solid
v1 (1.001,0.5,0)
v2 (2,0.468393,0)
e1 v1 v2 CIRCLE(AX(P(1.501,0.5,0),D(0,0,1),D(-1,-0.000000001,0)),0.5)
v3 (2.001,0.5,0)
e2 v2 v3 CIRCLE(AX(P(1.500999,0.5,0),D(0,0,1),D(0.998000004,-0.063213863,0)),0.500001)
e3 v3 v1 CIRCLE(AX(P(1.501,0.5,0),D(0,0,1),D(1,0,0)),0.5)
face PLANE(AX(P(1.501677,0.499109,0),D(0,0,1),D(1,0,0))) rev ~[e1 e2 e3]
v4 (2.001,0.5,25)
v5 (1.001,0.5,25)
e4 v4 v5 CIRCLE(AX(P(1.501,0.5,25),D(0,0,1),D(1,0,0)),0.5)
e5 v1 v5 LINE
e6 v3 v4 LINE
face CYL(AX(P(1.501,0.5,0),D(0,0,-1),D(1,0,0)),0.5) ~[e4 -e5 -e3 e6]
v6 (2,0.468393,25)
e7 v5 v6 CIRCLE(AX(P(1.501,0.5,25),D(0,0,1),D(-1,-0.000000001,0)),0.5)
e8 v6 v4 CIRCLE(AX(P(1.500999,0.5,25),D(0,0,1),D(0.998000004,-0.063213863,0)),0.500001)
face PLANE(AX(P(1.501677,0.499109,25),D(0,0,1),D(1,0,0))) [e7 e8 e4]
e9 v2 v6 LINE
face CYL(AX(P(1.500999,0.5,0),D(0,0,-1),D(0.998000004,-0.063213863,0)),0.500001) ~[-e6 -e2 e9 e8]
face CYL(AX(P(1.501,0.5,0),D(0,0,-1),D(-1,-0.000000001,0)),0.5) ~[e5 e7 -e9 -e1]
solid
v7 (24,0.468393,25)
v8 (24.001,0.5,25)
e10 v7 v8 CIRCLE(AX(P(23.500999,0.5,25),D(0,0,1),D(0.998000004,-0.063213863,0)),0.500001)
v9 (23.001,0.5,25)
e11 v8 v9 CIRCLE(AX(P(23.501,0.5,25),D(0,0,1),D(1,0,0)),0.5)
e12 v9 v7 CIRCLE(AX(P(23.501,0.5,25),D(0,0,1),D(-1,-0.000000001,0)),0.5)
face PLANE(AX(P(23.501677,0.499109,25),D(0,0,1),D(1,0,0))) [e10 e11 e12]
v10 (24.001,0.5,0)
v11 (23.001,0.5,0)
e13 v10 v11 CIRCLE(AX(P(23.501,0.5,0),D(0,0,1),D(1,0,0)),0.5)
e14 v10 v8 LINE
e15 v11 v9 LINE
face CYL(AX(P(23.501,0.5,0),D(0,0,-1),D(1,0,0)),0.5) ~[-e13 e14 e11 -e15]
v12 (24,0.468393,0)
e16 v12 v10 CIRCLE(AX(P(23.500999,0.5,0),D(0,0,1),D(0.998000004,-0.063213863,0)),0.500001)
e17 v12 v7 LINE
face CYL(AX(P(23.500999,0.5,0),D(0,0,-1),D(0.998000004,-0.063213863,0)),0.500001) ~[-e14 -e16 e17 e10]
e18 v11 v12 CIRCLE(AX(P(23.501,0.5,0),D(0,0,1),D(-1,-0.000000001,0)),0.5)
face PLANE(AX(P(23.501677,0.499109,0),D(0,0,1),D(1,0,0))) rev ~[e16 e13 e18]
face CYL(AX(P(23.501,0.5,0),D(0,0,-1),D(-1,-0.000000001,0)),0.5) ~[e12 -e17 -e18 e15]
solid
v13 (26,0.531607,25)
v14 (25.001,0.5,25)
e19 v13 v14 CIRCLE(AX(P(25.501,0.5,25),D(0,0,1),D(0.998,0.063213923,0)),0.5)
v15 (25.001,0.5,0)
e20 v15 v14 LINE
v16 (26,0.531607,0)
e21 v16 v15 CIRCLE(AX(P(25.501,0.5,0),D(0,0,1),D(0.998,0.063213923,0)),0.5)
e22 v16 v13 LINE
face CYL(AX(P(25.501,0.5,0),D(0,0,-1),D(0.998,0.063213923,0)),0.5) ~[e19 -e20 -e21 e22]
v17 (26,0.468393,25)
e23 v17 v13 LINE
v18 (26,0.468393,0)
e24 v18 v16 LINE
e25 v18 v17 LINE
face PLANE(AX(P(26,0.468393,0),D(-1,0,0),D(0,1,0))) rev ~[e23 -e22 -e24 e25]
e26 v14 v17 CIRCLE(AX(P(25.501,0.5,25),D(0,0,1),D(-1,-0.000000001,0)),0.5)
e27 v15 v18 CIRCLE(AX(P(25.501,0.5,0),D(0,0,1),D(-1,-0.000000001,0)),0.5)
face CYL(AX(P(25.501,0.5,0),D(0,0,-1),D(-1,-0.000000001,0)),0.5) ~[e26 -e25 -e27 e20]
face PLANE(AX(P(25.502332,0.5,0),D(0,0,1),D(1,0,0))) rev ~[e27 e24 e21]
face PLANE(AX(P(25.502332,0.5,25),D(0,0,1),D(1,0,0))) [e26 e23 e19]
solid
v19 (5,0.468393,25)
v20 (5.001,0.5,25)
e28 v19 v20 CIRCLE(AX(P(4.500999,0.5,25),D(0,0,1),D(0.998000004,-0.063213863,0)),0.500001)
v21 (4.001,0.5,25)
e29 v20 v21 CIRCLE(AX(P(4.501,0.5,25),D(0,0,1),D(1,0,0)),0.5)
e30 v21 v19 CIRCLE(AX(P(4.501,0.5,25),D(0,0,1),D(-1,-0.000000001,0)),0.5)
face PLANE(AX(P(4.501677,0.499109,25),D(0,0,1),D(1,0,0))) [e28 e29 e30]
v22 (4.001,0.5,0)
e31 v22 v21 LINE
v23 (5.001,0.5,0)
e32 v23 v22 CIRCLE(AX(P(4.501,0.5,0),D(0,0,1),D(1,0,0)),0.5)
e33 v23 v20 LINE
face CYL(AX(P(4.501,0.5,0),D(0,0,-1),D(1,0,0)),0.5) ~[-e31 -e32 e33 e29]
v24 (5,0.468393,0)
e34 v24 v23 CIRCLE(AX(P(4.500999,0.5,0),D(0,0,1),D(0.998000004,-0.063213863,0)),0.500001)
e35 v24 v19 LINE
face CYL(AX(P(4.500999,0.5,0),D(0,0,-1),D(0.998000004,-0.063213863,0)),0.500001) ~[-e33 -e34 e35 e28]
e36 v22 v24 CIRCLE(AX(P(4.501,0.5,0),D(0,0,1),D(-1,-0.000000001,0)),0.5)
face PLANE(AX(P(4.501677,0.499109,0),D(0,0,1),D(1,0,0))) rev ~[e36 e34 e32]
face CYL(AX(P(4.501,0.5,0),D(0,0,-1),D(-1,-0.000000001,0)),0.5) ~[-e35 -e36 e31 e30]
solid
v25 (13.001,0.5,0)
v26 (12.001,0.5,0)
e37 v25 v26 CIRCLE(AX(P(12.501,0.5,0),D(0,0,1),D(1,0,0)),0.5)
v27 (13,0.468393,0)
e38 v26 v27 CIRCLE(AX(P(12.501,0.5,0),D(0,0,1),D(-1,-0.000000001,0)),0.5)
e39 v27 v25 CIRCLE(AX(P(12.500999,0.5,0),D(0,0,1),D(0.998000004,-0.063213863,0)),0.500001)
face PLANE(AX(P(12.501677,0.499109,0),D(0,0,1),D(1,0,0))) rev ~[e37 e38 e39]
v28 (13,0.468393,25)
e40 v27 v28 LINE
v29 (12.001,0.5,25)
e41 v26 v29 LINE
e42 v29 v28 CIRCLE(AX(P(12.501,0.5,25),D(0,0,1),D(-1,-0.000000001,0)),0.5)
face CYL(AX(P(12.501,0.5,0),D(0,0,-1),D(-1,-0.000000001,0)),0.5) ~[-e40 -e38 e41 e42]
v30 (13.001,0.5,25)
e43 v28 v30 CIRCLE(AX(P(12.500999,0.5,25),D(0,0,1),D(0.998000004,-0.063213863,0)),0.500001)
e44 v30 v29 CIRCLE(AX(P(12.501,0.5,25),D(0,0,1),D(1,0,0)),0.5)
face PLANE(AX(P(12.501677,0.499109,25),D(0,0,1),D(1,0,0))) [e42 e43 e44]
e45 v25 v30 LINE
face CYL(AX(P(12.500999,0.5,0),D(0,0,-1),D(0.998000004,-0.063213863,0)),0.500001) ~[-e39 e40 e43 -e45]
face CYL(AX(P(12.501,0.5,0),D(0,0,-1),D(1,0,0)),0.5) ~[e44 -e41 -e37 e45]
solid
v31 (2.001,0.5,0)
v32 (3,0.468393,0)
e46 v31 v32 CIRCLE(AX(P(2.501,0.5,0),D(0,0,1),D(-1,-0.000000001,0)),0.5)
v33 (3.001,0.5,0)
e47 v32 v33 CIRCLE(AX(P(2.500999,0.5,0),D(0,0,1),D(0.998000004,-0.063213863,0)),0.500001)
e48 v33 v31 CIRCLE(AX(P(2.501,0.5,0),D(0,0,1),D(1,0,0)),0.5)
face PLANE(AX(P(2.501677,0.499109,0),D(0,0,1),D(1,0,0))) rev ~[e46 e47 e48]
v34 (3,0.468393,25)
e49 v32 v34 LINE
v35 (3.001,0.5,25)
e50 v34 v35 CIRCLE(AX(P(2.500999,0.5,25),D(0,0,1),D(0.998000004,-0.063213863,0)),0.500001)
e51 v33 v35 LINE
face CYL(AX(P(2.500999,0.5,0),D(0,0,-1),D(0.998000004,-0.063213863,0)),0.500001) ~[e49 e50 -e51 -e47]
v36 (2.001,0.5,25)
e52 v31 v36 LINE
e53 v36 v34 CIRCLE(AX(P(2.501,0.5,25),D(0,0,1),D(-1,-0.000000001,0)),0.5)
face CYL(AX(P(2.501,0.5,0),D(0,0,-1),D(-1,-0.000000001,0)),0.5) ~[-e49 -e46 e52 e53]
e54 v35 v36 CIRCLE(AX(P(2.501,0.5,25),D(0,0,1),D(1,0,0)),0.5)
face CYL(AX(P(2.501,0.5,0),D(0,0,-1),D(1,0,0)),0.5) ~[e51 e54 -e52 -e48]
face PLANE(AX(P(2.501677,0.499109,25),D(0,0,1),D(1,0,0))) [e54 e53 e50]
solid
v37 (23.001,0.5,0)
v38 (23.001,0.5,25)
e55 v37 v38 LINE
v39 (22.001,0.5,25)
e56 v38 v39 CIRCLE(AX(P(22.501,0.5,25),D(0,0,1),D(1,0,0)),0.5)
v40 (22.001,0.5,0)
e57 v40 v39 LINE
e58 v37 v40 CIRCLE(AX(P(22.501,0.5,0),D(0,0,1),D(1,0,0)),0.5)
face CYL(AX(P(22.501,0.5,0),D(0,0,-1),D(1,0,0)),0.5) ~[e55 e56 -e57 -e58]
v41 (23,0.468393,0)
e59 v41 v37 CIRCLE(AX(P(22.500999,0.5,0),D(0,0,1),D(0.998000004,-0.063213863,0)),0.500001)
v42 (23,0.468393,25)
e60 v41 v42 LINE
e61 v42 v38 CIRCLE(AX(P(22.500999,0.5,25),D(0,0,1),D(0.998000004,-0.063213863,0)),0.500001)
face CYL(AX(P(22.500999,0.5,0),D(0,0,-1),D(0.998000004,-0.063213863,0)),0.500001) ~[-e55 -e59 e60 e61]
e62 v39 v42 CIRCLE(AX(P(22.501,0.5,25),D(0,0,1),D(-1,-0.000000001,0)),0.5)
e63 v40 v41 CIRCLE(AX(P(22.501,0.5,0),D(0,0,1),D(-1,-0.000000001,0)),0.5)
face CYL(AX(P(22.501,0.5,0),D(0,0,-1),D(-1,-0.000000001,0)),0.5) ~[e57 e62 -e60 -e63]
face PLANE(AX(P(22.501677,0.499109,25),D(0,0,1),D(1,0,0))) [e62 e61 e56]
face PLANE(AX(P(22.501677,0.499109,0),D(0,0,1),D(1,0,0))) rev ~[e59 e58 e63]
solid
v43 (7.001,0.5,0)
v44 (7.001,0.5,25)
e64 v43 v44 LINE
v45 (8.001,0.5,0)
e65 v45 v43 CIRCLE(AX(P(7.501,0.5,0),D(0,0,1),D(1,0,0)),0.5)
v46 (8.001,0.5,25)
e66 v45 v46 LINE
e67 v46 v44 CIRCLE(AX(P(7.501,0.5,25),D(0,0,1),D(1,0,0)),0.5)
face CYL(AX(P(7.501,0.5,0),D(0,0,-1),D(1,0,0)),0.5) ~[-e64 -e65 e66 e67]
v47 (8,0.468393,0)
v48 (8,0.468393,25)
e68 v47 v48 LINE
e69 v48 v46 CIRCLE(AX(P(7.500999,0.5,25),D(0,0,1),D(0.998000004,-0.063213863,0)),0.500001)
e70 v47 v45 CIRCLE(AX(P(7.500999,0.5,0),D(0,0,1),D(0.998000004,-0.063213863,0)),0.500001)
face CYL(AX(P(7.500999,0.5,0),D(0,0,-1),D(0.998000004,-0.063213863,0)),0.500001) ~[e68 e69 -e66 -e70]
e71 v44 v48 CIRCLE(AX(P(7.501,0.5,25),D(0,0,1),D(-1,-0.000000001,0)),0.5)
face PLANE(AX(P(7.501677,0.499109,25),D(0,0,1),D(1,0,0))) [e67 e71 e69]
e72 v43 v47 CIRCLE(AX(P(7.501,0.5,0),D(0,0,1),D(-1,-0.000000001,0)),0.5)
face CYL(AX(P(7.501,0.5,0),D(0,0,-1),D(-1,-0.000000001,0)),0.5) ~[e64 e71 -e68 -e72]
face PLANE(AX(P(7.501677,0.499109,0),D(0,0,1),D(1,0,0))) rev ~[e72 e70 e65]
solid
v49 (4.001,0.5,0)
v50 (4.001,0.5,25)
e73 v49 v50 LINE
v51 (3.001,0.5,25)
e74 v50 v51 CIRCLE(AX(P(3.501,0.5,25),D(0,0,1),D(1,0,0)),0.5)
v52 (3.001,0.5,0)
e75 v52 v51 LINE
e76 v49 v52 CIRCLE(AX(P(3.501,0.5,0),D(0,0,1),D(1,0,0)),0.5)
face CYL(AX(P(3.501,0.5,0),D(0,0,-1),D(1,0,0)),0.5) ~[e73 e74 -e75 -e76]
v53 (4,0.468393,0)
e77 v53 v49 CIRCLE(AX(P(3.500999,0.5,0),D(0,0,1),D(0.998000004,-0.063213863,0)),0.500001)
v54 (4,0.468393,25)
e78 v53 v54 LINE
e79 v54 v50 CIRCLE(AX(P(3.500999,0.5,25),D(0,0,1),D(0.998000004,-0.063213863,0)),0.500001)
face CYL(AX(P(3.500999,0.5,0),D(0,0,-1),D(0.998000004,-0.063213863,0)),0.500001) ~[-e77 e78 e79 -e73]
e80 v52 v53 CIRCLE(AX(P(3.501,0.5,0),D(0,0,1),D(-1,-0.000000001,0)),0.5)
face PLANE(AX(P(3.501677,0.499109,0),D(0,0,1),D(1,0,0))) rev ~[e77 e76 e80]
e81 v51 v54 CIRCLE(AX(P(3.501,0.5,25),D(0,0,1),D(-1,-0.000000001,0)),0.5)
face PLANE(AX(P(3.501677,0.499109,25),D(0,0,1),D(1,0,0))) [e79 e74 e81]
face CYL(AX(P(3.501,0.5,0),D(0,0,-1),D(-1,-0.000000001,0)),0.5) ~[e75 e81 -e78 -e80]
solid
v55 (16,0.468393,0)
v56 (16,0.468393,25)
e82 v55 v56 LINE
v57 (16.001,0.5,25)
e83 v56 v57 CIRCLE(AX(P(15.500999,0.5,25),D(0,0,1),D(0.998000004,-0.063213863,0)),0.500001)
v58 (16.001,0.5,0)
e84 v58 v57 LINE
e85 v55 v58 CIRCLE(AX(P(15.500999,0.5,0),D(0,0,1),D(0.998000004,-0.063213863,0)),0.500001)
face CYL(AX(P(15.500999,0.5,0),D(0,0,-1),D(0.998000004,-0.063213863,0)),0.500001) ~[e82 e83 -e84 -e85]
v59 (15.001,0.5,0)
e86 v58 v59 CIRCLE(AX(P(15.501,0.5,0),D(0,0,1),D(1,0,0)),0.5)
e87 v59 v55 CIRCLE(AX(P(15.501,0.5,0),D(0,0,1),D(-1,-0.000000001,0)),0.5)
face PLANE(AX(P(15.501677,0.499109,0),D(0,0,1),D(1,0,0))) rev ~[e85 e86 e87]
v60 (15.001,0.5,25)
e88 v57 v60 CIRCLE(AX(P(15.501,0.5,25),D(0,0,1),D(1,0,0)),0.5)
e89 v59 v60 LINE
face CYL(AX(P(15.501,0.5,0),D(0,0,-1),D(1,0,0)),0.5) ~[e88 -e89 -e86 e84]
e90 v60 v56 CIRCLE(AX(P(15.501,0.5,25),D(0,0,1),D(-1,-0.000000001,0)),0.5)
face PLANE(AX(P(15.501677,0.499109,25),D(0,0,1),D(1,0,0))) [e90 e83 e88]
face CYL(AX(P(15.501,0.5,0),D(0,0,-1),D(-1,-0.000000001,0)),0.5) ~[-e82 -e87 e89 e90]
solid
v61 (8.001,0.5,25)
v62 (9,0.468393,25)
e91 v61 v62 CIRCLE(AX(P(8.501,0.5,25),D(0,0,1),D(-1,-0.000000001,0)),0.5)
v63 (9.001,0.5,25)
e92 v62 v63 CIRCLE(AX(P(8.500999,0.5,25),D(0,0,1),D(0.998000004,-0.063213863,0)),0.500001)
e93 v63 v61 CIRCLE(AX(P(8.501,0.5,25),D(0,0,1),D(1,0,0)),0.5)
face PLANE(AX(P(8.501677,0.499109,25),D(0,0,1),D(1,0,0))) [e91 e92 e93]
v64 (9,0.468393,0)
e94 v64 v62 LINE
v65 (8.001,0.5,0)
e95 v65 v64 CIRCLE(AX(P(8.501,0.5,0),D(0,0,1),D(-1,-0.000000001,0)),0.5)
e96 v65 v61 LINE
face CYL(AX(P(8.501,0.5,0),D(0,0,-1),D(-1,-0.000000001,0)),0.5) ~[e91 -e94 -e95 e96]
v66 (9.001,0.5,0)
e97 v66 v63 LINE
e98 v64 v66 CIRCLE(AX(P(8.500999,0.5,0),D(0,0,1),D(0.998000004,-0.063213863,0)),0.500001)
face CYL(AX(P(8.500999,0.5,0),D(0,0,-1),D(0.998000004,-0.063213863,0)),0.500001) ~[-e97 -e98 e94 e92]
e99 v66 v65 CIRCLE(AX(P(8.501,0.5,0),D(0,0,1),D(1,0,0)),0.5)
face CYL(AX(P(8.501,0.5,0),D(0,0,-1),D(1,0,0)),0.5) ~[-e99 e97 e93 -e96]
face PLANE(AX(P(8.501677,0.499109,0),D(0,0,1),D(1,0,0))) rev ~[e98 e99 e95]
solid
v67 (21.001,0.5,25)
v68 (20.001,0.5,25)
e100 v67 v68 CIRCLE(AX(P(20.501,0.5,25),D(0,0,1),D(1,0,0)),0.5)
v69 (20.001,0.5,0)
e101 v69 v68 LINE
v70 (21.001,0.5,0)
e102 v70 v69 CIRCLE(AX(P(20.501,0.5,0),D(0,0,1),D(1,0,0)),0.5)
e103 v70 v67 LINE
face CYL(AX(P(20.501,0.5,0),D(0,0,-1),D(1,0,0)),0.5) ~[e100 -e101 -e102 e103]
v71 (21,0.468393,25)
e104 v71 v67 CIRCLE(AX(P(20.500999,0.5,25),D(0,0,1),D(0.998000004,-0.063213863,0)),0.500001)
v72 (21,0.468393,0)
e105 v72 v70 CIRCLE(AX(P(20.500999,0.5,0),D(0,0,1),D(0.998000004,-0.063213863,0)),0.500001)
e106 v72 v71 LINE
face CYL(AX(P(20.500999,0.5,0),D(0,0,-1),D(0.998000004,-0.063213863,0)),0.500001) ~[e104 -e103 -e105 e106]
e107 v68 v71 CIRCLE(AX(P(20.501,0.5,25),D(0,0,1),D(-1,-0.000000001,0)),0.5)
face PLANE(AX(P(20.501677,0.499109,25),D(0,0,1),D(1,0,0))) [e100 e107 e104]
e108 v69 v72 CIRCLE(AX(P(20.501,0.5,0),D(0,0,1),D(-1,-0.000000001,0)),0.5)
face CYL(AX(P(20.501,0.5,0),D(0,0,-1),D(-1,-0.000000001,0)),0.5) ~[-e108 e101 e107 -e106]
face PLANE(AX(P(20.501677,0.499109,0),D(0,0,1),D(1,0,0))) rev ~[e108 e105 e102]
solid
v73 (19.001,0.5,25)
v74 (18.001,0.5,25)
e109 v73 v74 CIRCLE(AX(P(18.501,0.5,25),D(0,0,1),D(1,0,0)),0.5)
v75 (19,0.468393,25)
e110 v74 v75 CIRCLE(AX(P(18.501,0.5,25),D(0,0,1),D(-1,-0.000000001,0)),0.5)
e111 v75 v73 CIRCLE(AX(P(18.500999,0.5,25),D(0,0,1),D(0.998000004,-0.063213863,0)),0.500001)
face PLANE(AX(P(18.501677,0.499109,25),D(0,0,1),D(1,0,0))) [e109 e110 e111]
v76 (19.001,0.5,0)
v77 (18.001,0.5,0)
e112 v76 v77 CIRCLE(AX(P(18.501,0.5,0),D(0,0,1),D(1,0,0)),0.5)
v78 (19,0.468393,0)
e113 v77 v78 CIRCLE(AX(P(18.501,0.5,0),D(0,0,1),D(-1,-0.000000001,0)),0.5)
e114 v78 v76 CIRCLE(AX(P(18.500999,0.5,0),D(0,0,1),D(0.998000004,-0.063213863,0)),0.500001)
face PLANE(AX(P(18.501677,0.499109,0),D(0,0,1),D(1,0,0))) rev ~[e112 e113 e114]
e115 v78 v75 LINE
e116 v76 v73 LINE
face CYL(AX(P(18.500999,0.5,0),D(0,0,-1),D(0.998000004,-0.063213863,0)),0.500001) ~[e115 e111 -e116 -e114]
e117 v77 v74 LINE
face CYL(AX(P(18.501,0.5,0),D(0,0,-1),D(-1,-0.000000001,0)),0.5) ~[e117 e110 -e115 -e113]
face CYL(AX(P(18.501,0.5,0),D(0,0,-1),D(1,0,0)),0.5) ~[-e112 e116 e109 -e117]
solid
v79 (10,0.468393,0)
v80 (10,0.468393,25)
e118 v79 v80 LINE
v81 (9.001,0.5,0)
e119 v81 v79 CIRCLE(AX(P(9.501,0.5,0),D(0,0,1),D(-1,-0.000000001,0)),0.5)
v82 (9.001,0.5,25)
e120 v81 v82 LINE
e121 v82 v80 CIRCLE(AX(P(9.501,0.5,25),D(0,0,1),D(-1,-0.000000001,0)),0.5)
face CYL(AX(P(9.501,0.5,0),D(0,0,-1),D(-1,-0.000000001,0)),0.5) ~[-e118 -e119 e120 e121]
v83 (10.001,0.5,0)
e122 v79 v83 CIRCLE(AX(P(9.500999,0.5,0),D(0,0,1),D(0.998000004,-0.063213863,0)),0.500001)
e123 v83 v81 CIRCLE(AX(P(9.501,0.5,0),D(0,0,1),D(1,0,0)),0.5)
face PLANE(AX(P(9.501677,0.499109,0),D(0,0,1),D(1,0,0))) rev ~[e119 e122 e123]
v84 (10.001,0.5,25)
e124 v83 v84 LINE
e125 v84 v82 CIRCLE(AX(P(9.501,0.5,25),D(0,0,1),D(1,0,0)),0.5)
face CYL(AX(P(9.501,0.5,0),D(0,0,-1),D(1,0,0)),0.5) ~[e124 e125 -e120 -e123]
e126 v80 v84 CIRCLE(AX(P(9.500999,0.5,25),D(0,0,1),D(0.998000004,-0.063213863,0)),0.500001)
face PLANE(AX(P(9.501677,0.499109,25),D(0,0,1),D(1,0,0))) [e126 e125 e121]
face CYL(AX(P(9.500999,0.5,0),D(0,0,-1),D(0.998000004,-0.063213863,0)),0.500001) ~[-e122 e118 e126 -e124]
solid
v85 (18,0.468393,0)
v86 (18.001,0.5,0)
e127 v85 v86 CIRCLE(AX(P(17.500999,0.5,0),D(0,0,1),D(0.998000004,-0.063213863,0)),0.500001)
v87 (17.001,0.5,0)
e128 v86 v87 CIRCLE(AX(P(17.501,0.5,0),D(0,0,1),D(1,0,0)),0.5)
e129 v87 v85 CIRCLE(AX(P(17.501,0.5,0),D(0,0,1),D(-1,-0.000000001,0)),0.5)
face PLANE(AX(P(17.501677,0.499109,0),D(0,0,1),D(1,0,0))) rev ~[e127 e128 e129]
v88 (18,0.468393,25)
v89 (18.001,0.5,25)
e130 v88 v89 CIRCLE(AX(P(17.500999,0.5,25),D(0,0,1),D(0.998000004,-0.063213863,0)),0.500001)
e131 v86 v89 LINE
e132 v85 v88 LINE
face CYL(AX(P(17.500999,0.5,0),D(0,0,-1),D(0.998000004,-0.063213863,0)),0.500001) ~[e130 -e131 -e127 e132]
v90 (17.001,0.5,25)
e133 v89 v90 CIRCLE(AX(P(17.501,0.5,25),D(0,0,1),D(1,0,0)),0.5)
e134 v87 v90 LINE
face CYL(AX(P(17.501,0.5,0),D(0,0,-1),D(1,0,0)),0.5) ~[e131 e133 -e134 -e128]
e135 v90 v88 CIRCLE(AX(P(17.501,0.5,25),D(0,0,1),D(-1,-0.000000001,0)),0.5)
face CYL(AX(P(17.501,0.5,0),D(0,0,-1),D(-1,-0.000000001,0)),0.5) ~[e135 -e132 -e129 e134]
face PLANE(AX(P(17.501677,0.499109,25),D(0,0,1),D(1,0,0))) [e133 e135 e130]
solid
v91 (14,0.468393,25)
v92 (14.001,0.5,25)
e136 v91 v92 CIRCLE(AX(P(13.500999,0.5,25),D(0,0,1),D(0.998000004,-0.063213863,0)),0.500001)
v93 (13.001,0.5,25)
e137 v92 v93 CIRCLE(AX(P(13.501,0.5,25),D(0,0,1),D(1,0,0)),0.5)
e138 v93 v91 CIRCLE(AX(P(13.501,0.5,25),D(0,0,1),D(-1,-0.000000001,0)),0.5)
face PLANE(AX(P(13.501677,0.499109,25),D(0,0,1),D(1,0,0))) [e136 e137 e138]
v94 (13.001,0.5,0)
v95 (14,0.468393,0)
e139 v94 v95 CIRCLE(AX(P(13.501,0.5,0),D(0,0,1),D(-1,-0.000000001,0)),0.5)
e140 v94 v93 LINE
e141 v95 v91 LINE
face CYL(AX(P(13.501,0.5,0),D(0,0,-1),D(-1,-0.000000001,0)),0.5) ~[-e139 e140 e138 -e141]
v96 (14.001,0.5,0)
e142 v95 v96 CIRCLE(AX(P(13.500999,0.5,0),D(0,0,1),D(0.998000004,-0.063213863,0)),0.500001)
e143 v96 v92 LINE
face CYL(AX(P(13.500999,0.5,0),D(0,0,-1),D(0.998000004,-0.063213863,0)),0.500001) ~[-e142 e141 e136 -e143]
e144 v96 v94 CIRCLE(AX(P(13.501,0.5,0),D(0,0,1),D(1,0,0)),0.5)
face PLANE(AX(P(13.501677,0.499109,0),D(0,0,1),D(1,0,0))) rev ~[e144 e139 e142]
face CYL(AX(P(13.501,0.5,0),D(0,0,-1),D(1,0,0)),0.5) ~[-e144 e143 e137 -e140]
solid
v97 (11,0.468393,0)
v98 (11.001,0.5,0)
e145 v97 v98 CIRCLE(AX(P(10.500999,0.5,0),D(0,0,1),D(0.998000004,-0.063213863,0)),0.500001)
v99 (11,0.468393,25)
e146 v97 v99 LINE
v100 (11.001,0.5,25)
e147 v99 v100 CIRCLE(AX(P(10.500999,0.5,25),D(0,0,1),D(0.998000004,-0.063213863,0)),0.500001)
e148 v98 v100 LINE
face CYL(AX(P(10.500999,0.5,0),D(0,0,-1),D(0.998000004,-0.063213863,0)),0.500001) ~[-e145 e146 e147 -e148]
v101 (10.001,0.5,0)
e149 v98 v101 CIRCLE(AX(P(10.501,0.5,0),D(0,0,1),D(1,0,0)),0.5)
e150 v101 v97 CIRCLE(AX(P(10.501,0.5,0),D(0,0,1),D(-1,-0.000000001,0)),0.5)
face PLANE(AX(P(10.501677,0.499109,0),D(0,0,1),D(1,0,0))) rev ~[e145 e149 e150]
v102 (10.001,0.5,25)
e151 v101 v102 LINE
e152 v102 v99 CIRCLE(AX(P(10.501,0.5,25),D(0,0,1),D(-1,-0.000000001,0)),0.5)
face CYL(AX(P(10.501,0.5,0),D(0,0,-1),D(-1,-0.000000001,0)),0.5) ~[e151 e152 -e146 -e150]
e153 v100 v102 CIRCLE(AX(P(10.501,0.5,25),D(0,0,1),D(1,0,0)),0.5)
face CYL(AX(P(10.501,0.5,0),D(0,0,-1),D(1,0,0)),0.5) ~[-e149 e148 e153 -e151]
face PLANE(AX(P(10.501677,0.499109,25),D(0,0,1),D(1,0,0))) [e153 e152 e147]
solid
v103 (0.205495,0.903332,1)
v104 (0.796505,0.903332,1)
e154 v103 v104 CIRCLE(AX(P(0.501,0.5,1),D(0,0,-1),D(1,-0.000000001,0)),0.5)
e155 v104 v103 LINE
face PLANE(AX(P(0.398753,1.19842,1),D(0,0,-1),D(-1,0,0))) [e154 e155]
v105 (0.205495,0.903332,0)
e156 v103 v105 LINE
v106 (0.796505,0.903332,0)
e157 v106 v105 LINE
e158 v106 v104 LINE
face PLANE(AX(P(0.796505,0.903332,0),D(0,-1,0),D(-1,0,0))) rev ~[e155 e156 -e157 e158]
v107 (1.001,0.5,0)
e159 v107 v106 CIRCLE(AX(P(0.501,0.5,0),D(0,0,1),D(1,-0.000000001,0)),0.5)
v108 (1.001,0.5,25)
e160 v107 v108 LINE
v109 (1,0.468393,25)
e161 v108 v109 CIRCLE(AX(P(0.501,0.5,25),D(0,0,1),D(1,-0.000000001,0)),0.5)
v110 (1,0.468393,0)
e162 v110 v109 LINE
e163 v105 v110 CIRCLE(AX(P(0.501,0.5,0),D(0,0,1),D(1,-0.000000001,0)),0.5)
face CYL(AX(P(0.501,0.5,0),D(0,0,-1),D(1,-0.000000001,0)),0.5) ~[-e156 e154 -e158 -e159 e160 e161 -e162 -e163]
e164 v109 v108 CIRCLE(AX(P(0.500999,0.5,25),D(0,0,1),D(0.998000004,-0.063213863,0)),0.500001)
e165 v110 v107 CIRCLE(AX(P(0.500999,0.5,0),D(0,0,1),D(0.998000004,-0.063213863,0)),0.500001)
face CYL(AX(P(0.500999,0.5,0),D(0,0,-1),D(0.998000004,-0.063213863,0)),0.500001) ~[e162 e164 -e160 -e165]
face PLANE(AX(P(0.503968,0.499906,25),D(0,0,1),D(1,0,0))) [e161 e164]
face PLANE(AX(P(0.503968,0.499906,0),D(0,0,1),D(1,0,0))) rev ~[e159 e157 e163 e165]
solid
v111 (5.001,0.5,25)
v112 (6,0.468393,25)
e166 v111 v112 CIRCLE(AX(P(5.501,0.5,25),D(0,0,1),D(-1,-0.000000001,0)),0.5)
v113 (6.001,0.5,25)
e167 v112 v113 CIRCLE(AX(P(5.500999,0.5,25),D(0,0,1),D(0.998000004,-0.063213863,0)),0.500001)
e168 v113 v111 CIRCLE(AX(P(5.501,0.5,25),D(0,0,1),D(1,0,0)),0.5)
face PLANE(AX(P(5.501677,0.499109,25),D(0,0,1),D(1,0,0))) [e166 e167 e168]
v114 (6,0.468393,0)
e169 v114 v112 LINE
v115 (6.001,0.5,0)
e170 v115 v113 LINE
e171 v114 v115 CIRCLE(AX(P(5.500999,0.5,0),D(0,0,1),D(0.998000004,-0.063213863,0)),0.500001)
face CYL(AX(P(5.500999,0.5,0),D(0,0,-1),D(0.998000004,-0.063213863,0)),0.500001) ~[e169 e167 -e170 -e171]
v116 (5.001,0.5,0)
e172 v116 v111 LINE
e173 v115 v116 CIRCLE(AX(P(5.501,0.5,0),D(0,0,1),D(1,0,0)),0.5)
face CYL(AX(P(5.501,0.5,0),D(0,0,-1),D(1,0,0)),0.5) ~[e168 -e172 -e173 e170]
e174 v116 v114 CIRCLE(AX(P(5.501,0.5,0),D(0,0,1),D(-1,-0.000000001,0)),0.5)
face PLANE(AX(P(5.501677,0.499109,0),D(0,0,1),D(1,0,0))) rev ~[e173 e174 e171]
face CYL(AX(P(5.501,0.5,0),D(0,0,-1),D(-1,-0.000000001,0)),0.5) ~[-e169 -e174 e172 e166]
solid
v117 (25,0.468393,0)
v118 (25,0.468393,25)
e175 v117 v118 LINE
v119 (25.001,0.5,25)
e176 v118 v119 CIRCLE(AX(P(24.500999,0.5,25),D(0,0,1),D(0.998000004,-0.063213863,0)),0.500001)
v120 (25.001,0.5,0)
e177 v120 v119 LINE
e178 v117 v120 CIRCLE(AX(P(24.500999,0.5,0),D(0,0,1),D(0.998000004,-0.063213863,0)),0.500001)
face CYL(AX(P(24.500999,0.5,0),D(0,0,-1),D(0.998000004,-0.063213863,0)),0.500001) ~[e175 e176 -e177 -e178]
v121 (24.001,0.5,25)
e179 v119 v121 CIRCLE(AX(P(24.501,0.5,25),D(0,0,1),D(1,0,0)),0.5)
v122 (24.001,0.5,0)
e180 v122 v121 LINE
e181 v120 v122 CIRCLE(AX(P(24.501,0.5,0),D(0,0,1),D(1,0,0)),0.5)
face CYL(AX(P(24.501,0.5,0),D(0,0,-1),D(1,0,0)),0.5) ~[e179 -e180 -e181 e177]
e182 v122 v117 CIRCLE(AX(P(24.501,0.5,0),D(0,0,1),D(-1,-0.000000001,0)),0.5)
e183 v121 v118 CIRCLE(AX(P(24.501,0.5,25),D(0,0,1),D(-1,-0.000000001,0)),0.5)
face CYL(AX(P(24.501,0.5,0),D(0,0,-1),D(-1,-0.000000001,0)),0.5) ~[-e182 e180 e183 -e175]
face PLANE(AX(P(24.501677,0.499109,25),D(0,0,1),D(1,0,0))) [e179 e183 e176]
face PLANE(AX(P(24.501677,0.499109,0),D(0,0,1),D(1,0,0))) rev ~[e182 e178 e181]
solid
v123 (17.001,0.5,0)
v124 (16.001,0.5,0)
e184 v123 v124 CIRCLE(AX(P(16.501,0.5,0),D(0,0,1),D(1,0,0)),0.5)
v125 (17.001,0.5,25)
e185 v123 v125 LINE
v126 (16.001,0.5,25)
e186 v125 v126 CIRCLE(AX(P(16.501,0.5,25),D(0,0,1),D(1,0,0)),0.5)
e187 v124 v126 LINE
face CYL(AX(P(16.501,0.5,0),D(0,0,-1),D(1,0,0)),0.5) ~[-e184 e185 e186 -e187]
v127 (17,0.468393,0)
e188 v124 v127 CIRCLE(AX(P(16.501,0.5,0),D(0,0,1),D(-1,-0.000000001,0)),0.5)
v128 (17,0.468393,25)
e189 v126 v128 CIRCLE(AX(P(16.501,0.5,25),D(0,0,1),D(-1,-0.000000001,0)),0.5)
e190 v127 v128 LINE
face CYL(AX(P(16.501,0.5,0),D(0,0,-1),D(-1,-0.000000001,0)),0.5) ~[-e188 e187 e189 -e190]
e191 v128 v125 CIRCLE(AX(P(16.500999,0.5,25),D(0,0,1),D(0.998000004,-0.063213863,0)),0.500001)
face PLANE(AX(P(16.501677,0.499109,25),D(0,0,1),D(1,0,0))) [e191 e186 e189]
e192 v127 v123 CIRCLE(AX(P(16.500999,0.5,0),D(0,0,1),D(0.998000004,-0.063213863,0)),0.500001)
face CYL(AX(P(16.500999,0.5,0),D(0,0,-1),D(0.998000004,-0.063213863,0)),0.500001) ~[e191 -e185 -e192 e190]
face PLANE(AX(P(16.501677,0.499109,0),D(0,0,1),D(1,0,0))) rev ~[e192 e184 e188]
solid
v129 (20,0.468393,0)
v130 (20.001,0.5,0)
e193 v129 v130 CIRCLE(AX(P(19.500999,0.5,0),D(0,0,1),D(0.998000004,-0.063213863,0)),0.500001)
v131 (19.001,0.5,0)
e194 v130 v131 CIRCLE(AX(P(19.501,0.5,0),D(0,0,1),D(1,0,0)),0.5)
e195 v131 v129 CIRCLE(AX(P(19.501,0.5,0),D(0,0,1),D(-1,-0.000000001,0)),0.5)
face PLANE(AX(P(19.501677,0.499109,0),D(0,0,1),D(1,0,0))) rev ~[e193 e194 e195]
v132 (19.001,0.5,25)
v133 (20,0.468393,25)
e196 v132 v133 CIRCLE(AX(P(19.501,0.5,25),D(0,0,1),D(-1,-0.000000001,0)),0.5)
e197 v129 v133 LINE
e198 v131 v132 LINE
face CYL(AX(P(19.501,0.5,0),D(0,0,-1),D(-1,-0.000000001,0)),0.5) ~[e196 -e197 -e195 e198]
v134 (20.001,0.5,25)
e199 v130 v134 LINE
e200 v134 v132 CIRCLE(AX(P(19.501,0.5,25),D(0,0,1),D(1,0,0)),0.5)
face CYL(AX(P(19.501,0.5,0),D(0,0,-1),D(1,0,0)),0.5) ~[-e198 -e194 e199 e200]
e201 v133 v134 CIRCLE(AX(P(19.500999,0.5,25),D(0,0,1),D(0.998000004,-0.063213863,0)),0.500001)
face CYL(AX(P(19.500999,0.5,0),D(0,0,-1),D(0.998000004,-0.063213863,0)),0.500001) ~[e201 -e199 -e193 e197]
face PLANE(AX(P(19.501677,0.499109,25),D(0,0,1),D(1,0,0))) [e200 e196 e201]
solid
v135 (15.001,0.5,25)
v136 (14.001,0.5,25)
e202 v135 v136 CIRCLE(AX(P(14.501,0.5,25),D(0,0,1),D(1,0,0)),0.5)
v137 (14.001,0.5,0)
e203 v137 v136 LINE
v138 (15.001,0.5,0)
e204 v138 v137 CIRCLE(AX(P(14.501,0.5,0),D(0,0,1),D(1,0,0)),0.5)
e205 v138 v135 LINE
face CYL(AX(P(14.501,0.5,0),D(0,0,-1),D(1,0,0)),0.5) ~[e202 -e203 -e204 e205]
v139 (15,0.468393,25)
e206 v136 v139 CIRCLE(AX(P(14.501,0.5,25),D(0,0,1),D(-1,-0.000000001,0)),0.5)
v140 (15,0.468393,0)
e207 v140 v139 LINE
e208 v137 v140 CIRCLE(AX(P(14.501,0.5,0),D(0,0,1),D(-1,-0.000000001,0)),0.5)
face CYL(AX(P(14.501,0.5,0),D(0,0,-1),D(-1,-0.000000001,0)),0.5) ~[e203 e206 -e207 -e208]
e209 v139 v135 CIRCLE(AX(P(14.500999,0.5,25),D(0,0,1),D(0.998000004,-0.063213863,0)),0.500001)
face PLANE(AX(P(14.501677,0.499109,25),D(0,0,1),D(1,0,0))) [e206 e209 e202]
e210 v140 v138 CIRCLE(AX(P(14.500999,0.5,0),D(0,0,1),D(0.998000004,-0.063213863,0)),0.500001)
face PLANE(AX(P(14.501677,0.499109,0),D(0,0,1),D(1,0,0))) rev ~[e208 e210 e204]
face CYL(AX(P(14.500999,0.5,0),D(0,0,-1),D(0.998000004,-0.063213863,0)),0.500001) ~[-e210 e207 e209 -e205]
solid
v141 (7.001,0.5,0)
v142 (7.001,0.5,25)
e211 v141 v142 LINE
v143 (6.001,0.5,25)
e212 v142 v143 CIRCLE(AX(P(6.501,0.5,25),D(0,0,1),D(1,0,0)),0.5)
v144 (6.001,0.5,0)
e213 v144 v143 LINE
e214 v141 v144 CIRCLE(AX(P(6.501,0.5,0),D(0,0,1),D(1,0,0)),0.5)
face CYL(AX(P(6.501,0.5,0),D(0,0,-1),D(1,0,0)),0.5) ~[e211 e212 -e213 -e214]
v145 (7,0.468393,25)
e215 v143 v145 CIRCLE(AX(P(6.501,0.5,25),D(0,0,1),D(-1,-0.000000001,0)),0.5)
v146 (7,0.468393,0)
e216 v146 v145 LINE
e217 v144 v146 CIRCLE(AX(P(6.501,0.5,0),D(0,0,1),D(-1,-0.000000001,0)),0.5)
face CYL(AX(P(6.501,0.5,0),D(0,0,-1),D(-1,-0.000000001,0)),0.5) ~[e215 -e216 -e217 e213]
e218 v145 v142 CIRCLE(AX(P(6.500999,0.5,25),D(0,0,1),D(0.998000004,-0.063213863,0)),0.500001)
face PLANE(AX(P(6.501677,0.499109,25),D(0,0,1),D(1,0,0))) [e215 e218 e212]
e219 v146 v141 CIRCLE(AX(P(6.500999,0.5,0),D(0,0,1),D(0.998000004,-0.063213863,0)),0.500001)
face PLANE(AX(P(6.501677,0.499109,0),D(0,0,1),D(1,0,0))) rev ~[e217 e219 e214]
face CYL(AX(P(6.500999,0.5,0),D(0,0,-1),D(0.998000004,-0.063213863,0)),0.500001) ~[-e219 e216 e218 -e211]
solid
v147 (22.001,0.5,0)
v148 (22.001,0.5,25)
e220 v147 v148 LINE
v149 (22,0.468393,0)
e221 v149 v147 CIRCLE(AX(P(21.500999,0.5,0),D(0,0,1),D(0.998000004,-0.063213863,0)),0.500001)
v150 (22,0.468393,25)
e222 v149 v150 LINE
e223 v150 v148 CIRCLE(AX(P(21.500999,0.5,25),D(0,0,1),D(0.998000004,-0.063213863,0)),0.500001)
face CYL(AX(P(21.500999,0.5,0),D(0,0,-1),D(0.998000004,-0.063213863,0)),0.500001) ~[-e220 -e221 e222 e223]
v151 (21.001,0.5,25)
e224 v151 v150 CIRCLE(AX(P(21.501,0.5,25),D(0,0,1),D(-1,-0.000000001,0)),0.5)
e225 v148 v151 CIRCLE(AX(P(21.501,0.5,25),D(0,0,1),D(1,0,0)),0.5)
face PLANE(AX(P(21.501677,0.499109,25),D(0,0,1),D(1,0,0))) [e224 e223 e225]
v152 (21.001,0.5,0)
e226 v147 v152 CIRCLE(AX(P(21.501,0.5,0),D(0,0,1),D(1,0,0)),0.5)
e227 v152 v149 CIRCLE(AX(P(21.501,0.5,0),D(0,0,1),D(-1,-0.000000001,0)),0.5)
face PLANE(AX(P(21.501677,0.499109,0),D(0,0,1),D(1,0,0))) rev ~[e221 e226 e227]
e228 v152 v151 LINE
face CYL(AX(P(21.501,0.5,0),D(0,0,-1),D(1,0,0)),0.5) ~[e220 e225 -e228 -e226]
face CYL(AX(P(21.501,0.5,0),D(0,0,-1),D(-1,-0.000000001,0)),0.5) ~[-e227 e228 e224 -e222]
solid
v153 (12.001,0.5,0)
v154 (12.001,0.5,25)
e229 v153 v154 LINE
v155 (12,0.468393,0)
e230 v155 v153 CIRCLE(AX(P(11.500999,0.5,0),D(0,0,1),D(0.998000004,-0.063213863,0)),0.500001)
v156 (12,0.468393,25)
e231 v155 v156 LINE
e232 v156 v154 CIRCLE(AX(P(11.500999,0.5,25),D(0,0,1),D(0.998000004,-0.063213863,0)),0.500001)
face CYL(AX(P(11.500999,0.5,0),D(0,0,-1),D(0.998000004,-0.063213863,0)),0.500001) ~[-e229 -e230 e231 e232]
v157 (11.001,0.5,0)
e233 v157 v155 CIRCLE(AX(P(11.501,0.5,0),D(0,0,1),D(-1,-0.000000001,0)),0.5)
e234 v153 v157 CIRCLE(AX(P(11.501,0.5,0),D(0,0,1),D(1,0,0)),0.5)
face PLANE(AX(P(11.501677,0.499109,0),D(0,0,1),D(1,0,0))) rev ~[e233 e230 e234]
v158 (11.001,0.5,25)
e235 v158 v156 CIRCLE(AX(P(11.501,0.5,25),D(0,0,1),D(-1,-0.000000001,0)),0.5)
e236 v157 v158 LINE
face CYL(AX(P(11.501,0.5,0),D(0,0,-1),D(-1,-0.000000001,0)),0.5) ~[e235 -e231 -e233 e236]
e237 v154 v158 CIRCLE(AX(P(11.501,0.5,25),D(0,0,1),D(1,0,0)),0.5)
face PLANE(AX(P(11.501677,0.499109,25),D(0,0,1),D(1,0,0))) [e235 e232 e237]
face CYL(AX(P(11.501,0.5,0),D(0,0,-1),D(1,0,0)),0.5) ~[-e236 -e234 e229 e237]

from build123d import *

# Parameters (mm, degrees)
BOSS_EXTRUDE1_DEPTH    = 25
BOSS_EXTRUDE1_2_DEPTH  = 25
BOSS_EXTRUDE1_3_DEPTH  = 25
BOSS_EXTRUDE1_4_DEPTH  = 25
BOSS_EXTRUDE1_5_DEPTH  = 25
BOSS_EXTRUDE1_6_DEPTH  = 25
BOSS_EXTRUDE1_7_DEPTH  = 25
BOSS_EXTRUDE1_8_DEPTH  = 25
BOSS_EXTRUDE1_9_DEPTH  = 25
BOSS_EXTRUDE1_10_DEPTH = 25
BOSS_EXTRUDE1_11_DEPTH = 25
BOSS_EXTRUDE1_12_DEPTH = 25
BOSS_EXTRUDE1_13_DEPTH = 25
BOSS_EXTRUDE1_14_DEPTH = 25
BOSS_EXTRUDE1_15_DEPTH = 25
BOSS_EXTRUDE1_16_DEPTH = 25
BOSS_EXTRUDE1_17_DEPTH = 25
BOSS_EXTRUDE1_18_DEPTH = 25
BOSS_EXTRUDE1_19_DEPTH = 25
BOSS_EXTRUDE1_20_DEPTH = 25
BOSS_EXTRUDE1_21_DEPTH = 25
BOSS_EXTRUDE1_22_DEPTH = 25
BOSS_EXTRUDE1_23_DEPTH = 25
BOSS_EXTRUDE1_24_DEPTH = 25
BOSS_EXTRUDE1_25_DEPTH = 25
BOSS_EXTRUDE1_26_DEPTH = 25
SKETCH2_W              = 0.795505405
SKETCH2_H              = 0.59017602
CUT_EXTRUDE1_DEPTH     = 1


with BuildPart() as part:
    # Sketch1 → Boss-Extrude1 (new body)
    with BuildSketch(Plane.XY):
        with BuildLine():
            ThreePointArc((26, 0.531606961), (25.485188612, 0.999749937), (25.001, 0.5))
            ThreePointArc((25.001, 0.5), (25.485188612, 0.000250063), (26, 0.468393039))
            Line((26, 0.468393039), (26, 0.531606961))
        make_face()
    extrude(amount=BOSS_EXTRUDE1_DEPTH)


with BuildPart() as body_2:
    # Sketch1 → Boss-Extrude1 2 (new body)
    with BuildSketch(Plane.XY):
        with BuildLine():
            ThreePointArc((1, 0.468393039), (1.000749937, 0.484188612), (1.001, 0.5))
            ThreePointArc((1.001, 0.5), (0.001250063, 0.515811388), (1, 0.468393039))
        make_face()
    extrude(amount=BOSS_EXTRUDE1_2_DEPTH)

    # Sketch2 → Cut-Extrude1 (cut)
    with BuildSketch(Plane(origin=(0, 0, 0), x_dir=(-1, 0, 0), z_dir=(0, 0, -1))):
        with Locations((-0.398752703, 1.198419828)):
            Rectangle(SKETCH2_W, SKETCH2_H)
    extrude(amount=-CUT_EXTRUDE1_DEPTH, mode=Mode.SUBTRACT)


with BuildPart() as body_3:
    # Sketch1 → Boss-Extrude1 3 (new body)
    with BuildSketch(Plane.XY):
        with BuildLine():
            ThreePointArc((2, 0.468393039), (2.000749937, 0.484188612), (2.001, 0.5))
            ThreePointArc((2.001, 0.5), (1.501, 1), (1.001, 0.5))
            ThreePointArc((1.001, 0.5), (1.485188612, 0.000250063), (2, 0.468393039))
        make_face()
    extrude(amount=BOSS_EXTRUDE1_3_DEPTH)


with BuildPart() as body_4:
    # Sketch1 → Boss-Extrude1 4 (new body)
    with BuildSketch(Plane.XY):
        with BuildLine():
            ThreePointArc((3, 0.468393039), (3.000749937, 0.484188612), (3.001, 0.5))
            ThreePointArc((3.001, 0.5), (2.501, 1), (2.001, 0.5))
            ThreePointArc((2.001, 0.5), (2.485188612, 0.000250063), (3, 0.468393039))
        make_face()
    extrude(amount=BOSS_EXTRUDE1_4_DEPTH)


with BuildPart() as body_5:
    # Sketch1 → Boss-Extrude1 5 (new body)
    with BuildSketch(Plane.XY):
        with BuildLine():
            ThreePointArc((4, 0.468393039), (4.000749937, 0.484188612), (4.001, 0.5))
            ThreePointArc((4.001, 0.5), (3.501, 1), (3.001, 0.5))
            ThreePointArc((3.001, 0.5), (3.485188612, 0.000250063), (4, 0.468393039))
        make_face()
    extrude(amount=BOSS_EXTRUDE1_5_DEPTH)


with BuildPart() as body_6:
    # Sketch1 → Boss-Extrude1 6 (new body)
    with BuildSketch(Plane.XY):
        with BuildLine():
            ThreePointArc((5, 0.468393039), (5.000749937, 0.484188612), (5.001, 0.5))
            ThreePointArc((5.001, 0.5), (4.501, 1), (4.001, 0.5))
            ThreePointArc((4.001, 0.5), (4.485188612, 0.000250063), (5, 0.468393039))
        make_face()
    extrude(amount=BOSS_EXTRUDE1_6_DEPTH)


with BuildPart() as body_7:
    # Sketch1 → Boss-Extrude1 7 (new body)
    with BuildSketch(Plane.XY):
        with BuildLine():
            ThreePointArc((6, 0.468393039), (6.000749937, 0.484188612), (6.001, 0.5))
            ThreePointArc((6.001, 0.5), (5.501, 1), (5.001, 0.5))
            ThreePointArc((5.001, 0.5), (5.485188612, 0.000250063), (6, 0.468393039))
        make_face()
    extrude(amount=BOSS_EXTRUDE1_7_DEPTH)


with BuildPart() as body_8:
    # Sketch1 → Boss-Extrude1 8 (new body)
    with BuildSketch(Plane.XY):
        with BuildLine():
            ThreePointArc((7, 0.468393039), (7.000749937, 0.484188612), (7.001, 0.5))
            ThreePointArc((7.001, 0.5), (6.501, 1), (6.001, 0.5))
            ThreePointArc((6.001, 0.5), (6.485188612, 0.000250063), (7, 0.468393039))
        make_face()
    extrude(amount=BOSS_EXTRUDE1_8_DEPTH)


with BuildPart() as body_9:
    # Sketch1 → Boss-Extrude1 9 (new body)
    with BuildSketch(Plane.XY):
        with BuildLine():
            ThreePointArc((8, 0.468393039), (8.000749937, 0.484188612), (8.001, 0.5))
            ThreePointArc((8.001, 0.5), (7.501, 1), (7.001, 0.5))
            ThreePointArc((7.001, 0.5), (7.485188612, 0.000250063), (8, 0.468393039))
        make_face()
    extrude(amount=BOSS_EXTRUDE1_9_DEPTH)


with BuildPart() as body_10:
    # Sketch1 → Boss-Extrude1 10 (new body)
    with BuildSketch(Plane.XY):
        with BuildLine():
            ThreePointArc((9, 0.468393039), (9.000749937, 0.484188612), (9.001, 0.5))
            ThreePointArc((9.001, 0.5), (8.501, 1), (8.001, 0.5))
            ThreePointArc((8.001, 0.5), (8.485188612, 0.000250063), (9, 0.468393039))
        make_face()
    extrude(amount=BOSS_EXTRUDE1_10_DEPTH)


with BuildPart() as body_11:
    # Sketch1 → Boss-Extrude1 11 (new body)
    with BuildSketch(Plane.XY):
        with BuildLine():
            ThreePointArc((10, 0.468393039), (10.000749937, 0.484188612), (10.001, 0.5))
            ThreePointArc((10.001, 0.5), (9.501, 1), (9.001, 0.5))
            ThreePointArc((9.001, 0.5), (9.485188612, 0.000250063), (10, 0.468393039))
        make_face()
    extrude(amount=BOSS_EXTRUDE1_11_DEPTH)


with BuildPart() as body_12:
    # Sketch1 → Boss-Extrude1 12 (new body)
    with BuildSketch(Plane.XY):
        with BuildLine():
            ThreePointArc((11, 0.468393039), (11.000749937, 0.484188612), (11.001, 0.5))
            ThreePointArc((11.001, 0.5), (10.501, 1), (10.001, 0.5))
            ThreePointArc((10.001, 0.5), (10.485188612, 0.000250063), (11, 0.468393039))
        make_face()
    extrude(amount=BOSS_EXTRUDE1_12_DEPTH)


with BuildPart() as body_13:
    # Sketch1 → Boss-Extrude1 13 (new body)
    with BuildSketch(Plane.XY):
        with BuildLine():
            ThreePointArc((12, 0.468393039), (12.000749937, 0.484188612), (12.001, 0.5))
            ThreePointArc((12.001, 0.5), (11.501, 1), (11.001, 0.5))
            ThreePointArc((11.001, 0.5), (11.485188612, 0.000250063), (12, 0.468393039))
        make_face()
    extrude(amount=BOSS_EXTRUDE1_13_DEPTH)


with BuildPart() as body_14:
    # Sketch1 → Boss-Extrude1 14 (new body)
    with BuildSketch(Plane.XY):
        with BuildLine():
            ThreePointArc((13, 0.468393039), (13.000749937, 0.484188612), (13.001, 0.5))
            ThreePointArc((13.001, 0.5), (12.501, 1), (12.001, 0.5))
            ThreePointArc((12.001, 0.5), (12.485188612, 0.000250063), (13, 0.468393039))
        make_face()
    extrude(amount=BOSS_EXTRUDE1_14_DEPTH)


with BuildPart() as body_15:
    # Sketch1 → Boss-Extrude1 15 (new body)
    with BuildSketch(Plane.XY):
        with BuildLine():
            ThreePointArc((14, 0.468393039), (14.000749937, 0.484188612), (14.001, 0.5))
            ThreePointArc((14.001, 0.5), (13.501, 1), (13.001, 0.5))
            ThreePointArc((13.001, 0.5), (13.485188612, 0.000250063), (14, 0.468393039))
        make_face()
    extrude(amount=BOSS_EXTRUDE1_15_DEPTH)


with BuildPart() as body_16:
    # Sketch1 → Boss-Extrude1 16 (new body)
    with BuildSketch(Plane.XY):
        with BuildLine():
            ThreePointArc((15, 0.468393039), (15.000749937, 0.484188612), (15.001, 0.5))
            ThreePointArc((15.001, 0.5), (14.501, 1), (14.001, 0.5))
            ThreePointArc((14.001, 0.5), (14.485188612, 0.000250063), (15, 0.468393039))
        make_face()
    extrude(amount=BOSS_EXTRUDE1_16_DEPTH)


with BuildPart() as body_17:
    # Sketch1 → Boss-Extrude1 17 (new body)
    with BuildSketch(Plane.XY):
        with BuildLine():
            ThreePointArc((16, 0.468393039), (16.000749937, 0.484188612), (16.001, 0.5))
            ThreePointArc((16.001, 0.5), (15.501, 1), (15.001, 0.5))
            ThreePointArc((15.001, 0.5), (15.485188612, 0.000250063), (16, 0.468393039))
        make_face()
    extrude(amount=BOSS_EXTRUDE1_17_DEPTH)


with BuildPart() as body_18:
    # Sketch1 → Boss-Extrude1 18 (new body)
    with BuildSketch(Plane.XY):
        with BuildLine():
            ThreePointArc((17, 0.468393039), (17.000749937, 0.484188612), (17.001, 0.5))
            ThreePointArc((17.001, 0.5), (16.501, 1), (16.001, 0.5))
            ThreePointArc((16.001, 0.5), (16.485188612, 0.000250063), (17, 0.468393039))
        make_face()
    extrude(amount=BOSS_EXTRUDE1_18_DEPTH)


with BuildPart() as body_19:
    # Sketch1 → Boss-Extrude1 19 (new body)
    with BuildSketch(Plane.XY):
        with BuildLine():
            ThreePointArc((18, 0.468393039), (18.000749937, 0.484188612), (18.001, 0.5))
            ThreePointArc((18.001, 0.5), (17.501, 1), (17.001, 0.5))
            ThreePointArc((17.001, 0.5), (17.485188612, 0.000250063), (18, 0.468393039))
        make_face()
    extrude(amount=BOSS_EXTRUDE1_19_DEPTH)


with BuildPart() as body_20:
    # Sketch1 → Boss-Extrude1 20 (new body)
    with BuildSketch(Plane.XY):
        with BuildLine():
            ThreePointArc((19, 0.468393039), (19.000749937, 0.484188612), (19.001, 0.5))
            ThreePointArc((19.001, 0.5), (18.501, 1), (18.001, 0.5))
            ThreePointArc((18.001, 0.5), (18.485188612, 0.000250063), (19, 0.468393039))
        make_face()
    extrude(amount=BOSS_EXTRUDE1_20_DEPTH)


with BuildPart() as body_21:
    # Sketch1 → Boss-Extrude1 21 (new body)
    with BuildSketch(Plane.XY):
        with BuildLine():
            ThreePointArc((20, 0.468393039), (20.000749937, 0.484188612), (20.001, 0.5))
            ThreePointArc((20.001, 0.5), (19.501, 1), (19.001, 0.5))
            ThreePointArc((19.001, 0.5), (19.485188612, 0.000250063), (20, 0.468393039))
        make_face()
    extrude(amount=BOSS_EXTRUDE1_21_DEPTH)


with BuildPart() as body_22:
    # Sketch1 → Boss-Extrude1 22 (new body)
    with BuildSketch(Plane.XY):
        with BuildLine():
            ThreePointArc((21, 0.468393039), (21.000749937, 0.484188612), (21.001, 0.5))
            ThreePointArc((21.001, 0.5), (20.501, 1), (20.001, 0.5))
            ThreePointArc((20.001, 0.5), (20.485188612, 0.000250063), (21, 0.468393039))
        make_face()
    extrude(amount=BOSS_EXTRUDE1_22_DEPTH)


with BuildPart() as body_23:
    # Sketch1 → Boss-Extrude1 23 (new body)
    with BuildSketch(Plane.XY):
        with BuildLine():
            ThreePointArc((22, 0.468393039), (22.000749937, 0.484188612), (22.001, 0.5))
            ThreePointArc((22.001, 0.5), (21.501, 1), (21.001, 0.5))
            ThreePointArc((21.001, 0.5), (21.485188612, 0.000250063), (22, 0.468393039))
        make_face()
    extrude(amount=BOSS_EXTRUDE1_23_DEPTH)


with BuildPart() as body_24:
    # Sketch1 → Boss-Extrude1 24 (new body)
    with BuildSketch(Plane.XY):
        with BuildLine():
            ThreePointArc((23, 0.468393039), (23.000749937, 0.484188612), (23.001, 0.5))
            ThreePointArc((23.001, 0.5), (22.501, 1), (22.001, 0.5))
            ThreePointArc((22.001, 0.5), (22.485188612, 0.000250063), (23, 0.468393039))
        make_face()
    extrude(amount=BOSS_EXTRUDE1_24_DEPTH)


with BuildPart() as body_25:
    # Sketch1 → Boss-Extrude1 25 (new body)
    with BuildSketch(Plane.XY):
        with BuildLine():
            ThreePointArc((24, 0.468393039), (24.000749937, 0.484188612), (24.001, 0.5))
            ThreePointArc((24.001, 0.5), (23.501, 1), (23.001, 0.5))
            ThreePointArc((23.001, 0.5), (23.485188612, 0.000250063), (24, 0.468393039))
        make_face()
    extrude(amount=BOSS_EXTRUDE1_25_DEPTH)


with BuildPart() as body_26:
    # Sketch1 → Boss-Extrude1 26 (new body)
    with BuildSketch(Plane.XY):
        with BuildLine():
            ThreePointArc((25, 0.468393039), (25.000749937, 0.484188612), (25.001, 0.5))
            ThreePointArc((25.001, 0.5), (24.501, 1), (24.001, 0.5))
            ThreePointArc((24.001, 0.5), (24.485188612, 0.000250063), (25, 0.468393039))
        make_face()
    extrude(amount=BOSS_EXTRUDE1_26_DEPTH)


solid = Compound([part.part, body_2.part, body_3.part, body_4.part, body_5.part, body_6.part, body_7.part, body_8.part, body_9.part, body_10.part, body_11.part, body_12.part, body_13.part, body_14.part, body_15.part, body_16.part, body_17.part, body_18.part, body_19.part, body_20.part, body_21.part, body_22.part, body_23.part, body_24.part, body_25.part, body_26.part])
